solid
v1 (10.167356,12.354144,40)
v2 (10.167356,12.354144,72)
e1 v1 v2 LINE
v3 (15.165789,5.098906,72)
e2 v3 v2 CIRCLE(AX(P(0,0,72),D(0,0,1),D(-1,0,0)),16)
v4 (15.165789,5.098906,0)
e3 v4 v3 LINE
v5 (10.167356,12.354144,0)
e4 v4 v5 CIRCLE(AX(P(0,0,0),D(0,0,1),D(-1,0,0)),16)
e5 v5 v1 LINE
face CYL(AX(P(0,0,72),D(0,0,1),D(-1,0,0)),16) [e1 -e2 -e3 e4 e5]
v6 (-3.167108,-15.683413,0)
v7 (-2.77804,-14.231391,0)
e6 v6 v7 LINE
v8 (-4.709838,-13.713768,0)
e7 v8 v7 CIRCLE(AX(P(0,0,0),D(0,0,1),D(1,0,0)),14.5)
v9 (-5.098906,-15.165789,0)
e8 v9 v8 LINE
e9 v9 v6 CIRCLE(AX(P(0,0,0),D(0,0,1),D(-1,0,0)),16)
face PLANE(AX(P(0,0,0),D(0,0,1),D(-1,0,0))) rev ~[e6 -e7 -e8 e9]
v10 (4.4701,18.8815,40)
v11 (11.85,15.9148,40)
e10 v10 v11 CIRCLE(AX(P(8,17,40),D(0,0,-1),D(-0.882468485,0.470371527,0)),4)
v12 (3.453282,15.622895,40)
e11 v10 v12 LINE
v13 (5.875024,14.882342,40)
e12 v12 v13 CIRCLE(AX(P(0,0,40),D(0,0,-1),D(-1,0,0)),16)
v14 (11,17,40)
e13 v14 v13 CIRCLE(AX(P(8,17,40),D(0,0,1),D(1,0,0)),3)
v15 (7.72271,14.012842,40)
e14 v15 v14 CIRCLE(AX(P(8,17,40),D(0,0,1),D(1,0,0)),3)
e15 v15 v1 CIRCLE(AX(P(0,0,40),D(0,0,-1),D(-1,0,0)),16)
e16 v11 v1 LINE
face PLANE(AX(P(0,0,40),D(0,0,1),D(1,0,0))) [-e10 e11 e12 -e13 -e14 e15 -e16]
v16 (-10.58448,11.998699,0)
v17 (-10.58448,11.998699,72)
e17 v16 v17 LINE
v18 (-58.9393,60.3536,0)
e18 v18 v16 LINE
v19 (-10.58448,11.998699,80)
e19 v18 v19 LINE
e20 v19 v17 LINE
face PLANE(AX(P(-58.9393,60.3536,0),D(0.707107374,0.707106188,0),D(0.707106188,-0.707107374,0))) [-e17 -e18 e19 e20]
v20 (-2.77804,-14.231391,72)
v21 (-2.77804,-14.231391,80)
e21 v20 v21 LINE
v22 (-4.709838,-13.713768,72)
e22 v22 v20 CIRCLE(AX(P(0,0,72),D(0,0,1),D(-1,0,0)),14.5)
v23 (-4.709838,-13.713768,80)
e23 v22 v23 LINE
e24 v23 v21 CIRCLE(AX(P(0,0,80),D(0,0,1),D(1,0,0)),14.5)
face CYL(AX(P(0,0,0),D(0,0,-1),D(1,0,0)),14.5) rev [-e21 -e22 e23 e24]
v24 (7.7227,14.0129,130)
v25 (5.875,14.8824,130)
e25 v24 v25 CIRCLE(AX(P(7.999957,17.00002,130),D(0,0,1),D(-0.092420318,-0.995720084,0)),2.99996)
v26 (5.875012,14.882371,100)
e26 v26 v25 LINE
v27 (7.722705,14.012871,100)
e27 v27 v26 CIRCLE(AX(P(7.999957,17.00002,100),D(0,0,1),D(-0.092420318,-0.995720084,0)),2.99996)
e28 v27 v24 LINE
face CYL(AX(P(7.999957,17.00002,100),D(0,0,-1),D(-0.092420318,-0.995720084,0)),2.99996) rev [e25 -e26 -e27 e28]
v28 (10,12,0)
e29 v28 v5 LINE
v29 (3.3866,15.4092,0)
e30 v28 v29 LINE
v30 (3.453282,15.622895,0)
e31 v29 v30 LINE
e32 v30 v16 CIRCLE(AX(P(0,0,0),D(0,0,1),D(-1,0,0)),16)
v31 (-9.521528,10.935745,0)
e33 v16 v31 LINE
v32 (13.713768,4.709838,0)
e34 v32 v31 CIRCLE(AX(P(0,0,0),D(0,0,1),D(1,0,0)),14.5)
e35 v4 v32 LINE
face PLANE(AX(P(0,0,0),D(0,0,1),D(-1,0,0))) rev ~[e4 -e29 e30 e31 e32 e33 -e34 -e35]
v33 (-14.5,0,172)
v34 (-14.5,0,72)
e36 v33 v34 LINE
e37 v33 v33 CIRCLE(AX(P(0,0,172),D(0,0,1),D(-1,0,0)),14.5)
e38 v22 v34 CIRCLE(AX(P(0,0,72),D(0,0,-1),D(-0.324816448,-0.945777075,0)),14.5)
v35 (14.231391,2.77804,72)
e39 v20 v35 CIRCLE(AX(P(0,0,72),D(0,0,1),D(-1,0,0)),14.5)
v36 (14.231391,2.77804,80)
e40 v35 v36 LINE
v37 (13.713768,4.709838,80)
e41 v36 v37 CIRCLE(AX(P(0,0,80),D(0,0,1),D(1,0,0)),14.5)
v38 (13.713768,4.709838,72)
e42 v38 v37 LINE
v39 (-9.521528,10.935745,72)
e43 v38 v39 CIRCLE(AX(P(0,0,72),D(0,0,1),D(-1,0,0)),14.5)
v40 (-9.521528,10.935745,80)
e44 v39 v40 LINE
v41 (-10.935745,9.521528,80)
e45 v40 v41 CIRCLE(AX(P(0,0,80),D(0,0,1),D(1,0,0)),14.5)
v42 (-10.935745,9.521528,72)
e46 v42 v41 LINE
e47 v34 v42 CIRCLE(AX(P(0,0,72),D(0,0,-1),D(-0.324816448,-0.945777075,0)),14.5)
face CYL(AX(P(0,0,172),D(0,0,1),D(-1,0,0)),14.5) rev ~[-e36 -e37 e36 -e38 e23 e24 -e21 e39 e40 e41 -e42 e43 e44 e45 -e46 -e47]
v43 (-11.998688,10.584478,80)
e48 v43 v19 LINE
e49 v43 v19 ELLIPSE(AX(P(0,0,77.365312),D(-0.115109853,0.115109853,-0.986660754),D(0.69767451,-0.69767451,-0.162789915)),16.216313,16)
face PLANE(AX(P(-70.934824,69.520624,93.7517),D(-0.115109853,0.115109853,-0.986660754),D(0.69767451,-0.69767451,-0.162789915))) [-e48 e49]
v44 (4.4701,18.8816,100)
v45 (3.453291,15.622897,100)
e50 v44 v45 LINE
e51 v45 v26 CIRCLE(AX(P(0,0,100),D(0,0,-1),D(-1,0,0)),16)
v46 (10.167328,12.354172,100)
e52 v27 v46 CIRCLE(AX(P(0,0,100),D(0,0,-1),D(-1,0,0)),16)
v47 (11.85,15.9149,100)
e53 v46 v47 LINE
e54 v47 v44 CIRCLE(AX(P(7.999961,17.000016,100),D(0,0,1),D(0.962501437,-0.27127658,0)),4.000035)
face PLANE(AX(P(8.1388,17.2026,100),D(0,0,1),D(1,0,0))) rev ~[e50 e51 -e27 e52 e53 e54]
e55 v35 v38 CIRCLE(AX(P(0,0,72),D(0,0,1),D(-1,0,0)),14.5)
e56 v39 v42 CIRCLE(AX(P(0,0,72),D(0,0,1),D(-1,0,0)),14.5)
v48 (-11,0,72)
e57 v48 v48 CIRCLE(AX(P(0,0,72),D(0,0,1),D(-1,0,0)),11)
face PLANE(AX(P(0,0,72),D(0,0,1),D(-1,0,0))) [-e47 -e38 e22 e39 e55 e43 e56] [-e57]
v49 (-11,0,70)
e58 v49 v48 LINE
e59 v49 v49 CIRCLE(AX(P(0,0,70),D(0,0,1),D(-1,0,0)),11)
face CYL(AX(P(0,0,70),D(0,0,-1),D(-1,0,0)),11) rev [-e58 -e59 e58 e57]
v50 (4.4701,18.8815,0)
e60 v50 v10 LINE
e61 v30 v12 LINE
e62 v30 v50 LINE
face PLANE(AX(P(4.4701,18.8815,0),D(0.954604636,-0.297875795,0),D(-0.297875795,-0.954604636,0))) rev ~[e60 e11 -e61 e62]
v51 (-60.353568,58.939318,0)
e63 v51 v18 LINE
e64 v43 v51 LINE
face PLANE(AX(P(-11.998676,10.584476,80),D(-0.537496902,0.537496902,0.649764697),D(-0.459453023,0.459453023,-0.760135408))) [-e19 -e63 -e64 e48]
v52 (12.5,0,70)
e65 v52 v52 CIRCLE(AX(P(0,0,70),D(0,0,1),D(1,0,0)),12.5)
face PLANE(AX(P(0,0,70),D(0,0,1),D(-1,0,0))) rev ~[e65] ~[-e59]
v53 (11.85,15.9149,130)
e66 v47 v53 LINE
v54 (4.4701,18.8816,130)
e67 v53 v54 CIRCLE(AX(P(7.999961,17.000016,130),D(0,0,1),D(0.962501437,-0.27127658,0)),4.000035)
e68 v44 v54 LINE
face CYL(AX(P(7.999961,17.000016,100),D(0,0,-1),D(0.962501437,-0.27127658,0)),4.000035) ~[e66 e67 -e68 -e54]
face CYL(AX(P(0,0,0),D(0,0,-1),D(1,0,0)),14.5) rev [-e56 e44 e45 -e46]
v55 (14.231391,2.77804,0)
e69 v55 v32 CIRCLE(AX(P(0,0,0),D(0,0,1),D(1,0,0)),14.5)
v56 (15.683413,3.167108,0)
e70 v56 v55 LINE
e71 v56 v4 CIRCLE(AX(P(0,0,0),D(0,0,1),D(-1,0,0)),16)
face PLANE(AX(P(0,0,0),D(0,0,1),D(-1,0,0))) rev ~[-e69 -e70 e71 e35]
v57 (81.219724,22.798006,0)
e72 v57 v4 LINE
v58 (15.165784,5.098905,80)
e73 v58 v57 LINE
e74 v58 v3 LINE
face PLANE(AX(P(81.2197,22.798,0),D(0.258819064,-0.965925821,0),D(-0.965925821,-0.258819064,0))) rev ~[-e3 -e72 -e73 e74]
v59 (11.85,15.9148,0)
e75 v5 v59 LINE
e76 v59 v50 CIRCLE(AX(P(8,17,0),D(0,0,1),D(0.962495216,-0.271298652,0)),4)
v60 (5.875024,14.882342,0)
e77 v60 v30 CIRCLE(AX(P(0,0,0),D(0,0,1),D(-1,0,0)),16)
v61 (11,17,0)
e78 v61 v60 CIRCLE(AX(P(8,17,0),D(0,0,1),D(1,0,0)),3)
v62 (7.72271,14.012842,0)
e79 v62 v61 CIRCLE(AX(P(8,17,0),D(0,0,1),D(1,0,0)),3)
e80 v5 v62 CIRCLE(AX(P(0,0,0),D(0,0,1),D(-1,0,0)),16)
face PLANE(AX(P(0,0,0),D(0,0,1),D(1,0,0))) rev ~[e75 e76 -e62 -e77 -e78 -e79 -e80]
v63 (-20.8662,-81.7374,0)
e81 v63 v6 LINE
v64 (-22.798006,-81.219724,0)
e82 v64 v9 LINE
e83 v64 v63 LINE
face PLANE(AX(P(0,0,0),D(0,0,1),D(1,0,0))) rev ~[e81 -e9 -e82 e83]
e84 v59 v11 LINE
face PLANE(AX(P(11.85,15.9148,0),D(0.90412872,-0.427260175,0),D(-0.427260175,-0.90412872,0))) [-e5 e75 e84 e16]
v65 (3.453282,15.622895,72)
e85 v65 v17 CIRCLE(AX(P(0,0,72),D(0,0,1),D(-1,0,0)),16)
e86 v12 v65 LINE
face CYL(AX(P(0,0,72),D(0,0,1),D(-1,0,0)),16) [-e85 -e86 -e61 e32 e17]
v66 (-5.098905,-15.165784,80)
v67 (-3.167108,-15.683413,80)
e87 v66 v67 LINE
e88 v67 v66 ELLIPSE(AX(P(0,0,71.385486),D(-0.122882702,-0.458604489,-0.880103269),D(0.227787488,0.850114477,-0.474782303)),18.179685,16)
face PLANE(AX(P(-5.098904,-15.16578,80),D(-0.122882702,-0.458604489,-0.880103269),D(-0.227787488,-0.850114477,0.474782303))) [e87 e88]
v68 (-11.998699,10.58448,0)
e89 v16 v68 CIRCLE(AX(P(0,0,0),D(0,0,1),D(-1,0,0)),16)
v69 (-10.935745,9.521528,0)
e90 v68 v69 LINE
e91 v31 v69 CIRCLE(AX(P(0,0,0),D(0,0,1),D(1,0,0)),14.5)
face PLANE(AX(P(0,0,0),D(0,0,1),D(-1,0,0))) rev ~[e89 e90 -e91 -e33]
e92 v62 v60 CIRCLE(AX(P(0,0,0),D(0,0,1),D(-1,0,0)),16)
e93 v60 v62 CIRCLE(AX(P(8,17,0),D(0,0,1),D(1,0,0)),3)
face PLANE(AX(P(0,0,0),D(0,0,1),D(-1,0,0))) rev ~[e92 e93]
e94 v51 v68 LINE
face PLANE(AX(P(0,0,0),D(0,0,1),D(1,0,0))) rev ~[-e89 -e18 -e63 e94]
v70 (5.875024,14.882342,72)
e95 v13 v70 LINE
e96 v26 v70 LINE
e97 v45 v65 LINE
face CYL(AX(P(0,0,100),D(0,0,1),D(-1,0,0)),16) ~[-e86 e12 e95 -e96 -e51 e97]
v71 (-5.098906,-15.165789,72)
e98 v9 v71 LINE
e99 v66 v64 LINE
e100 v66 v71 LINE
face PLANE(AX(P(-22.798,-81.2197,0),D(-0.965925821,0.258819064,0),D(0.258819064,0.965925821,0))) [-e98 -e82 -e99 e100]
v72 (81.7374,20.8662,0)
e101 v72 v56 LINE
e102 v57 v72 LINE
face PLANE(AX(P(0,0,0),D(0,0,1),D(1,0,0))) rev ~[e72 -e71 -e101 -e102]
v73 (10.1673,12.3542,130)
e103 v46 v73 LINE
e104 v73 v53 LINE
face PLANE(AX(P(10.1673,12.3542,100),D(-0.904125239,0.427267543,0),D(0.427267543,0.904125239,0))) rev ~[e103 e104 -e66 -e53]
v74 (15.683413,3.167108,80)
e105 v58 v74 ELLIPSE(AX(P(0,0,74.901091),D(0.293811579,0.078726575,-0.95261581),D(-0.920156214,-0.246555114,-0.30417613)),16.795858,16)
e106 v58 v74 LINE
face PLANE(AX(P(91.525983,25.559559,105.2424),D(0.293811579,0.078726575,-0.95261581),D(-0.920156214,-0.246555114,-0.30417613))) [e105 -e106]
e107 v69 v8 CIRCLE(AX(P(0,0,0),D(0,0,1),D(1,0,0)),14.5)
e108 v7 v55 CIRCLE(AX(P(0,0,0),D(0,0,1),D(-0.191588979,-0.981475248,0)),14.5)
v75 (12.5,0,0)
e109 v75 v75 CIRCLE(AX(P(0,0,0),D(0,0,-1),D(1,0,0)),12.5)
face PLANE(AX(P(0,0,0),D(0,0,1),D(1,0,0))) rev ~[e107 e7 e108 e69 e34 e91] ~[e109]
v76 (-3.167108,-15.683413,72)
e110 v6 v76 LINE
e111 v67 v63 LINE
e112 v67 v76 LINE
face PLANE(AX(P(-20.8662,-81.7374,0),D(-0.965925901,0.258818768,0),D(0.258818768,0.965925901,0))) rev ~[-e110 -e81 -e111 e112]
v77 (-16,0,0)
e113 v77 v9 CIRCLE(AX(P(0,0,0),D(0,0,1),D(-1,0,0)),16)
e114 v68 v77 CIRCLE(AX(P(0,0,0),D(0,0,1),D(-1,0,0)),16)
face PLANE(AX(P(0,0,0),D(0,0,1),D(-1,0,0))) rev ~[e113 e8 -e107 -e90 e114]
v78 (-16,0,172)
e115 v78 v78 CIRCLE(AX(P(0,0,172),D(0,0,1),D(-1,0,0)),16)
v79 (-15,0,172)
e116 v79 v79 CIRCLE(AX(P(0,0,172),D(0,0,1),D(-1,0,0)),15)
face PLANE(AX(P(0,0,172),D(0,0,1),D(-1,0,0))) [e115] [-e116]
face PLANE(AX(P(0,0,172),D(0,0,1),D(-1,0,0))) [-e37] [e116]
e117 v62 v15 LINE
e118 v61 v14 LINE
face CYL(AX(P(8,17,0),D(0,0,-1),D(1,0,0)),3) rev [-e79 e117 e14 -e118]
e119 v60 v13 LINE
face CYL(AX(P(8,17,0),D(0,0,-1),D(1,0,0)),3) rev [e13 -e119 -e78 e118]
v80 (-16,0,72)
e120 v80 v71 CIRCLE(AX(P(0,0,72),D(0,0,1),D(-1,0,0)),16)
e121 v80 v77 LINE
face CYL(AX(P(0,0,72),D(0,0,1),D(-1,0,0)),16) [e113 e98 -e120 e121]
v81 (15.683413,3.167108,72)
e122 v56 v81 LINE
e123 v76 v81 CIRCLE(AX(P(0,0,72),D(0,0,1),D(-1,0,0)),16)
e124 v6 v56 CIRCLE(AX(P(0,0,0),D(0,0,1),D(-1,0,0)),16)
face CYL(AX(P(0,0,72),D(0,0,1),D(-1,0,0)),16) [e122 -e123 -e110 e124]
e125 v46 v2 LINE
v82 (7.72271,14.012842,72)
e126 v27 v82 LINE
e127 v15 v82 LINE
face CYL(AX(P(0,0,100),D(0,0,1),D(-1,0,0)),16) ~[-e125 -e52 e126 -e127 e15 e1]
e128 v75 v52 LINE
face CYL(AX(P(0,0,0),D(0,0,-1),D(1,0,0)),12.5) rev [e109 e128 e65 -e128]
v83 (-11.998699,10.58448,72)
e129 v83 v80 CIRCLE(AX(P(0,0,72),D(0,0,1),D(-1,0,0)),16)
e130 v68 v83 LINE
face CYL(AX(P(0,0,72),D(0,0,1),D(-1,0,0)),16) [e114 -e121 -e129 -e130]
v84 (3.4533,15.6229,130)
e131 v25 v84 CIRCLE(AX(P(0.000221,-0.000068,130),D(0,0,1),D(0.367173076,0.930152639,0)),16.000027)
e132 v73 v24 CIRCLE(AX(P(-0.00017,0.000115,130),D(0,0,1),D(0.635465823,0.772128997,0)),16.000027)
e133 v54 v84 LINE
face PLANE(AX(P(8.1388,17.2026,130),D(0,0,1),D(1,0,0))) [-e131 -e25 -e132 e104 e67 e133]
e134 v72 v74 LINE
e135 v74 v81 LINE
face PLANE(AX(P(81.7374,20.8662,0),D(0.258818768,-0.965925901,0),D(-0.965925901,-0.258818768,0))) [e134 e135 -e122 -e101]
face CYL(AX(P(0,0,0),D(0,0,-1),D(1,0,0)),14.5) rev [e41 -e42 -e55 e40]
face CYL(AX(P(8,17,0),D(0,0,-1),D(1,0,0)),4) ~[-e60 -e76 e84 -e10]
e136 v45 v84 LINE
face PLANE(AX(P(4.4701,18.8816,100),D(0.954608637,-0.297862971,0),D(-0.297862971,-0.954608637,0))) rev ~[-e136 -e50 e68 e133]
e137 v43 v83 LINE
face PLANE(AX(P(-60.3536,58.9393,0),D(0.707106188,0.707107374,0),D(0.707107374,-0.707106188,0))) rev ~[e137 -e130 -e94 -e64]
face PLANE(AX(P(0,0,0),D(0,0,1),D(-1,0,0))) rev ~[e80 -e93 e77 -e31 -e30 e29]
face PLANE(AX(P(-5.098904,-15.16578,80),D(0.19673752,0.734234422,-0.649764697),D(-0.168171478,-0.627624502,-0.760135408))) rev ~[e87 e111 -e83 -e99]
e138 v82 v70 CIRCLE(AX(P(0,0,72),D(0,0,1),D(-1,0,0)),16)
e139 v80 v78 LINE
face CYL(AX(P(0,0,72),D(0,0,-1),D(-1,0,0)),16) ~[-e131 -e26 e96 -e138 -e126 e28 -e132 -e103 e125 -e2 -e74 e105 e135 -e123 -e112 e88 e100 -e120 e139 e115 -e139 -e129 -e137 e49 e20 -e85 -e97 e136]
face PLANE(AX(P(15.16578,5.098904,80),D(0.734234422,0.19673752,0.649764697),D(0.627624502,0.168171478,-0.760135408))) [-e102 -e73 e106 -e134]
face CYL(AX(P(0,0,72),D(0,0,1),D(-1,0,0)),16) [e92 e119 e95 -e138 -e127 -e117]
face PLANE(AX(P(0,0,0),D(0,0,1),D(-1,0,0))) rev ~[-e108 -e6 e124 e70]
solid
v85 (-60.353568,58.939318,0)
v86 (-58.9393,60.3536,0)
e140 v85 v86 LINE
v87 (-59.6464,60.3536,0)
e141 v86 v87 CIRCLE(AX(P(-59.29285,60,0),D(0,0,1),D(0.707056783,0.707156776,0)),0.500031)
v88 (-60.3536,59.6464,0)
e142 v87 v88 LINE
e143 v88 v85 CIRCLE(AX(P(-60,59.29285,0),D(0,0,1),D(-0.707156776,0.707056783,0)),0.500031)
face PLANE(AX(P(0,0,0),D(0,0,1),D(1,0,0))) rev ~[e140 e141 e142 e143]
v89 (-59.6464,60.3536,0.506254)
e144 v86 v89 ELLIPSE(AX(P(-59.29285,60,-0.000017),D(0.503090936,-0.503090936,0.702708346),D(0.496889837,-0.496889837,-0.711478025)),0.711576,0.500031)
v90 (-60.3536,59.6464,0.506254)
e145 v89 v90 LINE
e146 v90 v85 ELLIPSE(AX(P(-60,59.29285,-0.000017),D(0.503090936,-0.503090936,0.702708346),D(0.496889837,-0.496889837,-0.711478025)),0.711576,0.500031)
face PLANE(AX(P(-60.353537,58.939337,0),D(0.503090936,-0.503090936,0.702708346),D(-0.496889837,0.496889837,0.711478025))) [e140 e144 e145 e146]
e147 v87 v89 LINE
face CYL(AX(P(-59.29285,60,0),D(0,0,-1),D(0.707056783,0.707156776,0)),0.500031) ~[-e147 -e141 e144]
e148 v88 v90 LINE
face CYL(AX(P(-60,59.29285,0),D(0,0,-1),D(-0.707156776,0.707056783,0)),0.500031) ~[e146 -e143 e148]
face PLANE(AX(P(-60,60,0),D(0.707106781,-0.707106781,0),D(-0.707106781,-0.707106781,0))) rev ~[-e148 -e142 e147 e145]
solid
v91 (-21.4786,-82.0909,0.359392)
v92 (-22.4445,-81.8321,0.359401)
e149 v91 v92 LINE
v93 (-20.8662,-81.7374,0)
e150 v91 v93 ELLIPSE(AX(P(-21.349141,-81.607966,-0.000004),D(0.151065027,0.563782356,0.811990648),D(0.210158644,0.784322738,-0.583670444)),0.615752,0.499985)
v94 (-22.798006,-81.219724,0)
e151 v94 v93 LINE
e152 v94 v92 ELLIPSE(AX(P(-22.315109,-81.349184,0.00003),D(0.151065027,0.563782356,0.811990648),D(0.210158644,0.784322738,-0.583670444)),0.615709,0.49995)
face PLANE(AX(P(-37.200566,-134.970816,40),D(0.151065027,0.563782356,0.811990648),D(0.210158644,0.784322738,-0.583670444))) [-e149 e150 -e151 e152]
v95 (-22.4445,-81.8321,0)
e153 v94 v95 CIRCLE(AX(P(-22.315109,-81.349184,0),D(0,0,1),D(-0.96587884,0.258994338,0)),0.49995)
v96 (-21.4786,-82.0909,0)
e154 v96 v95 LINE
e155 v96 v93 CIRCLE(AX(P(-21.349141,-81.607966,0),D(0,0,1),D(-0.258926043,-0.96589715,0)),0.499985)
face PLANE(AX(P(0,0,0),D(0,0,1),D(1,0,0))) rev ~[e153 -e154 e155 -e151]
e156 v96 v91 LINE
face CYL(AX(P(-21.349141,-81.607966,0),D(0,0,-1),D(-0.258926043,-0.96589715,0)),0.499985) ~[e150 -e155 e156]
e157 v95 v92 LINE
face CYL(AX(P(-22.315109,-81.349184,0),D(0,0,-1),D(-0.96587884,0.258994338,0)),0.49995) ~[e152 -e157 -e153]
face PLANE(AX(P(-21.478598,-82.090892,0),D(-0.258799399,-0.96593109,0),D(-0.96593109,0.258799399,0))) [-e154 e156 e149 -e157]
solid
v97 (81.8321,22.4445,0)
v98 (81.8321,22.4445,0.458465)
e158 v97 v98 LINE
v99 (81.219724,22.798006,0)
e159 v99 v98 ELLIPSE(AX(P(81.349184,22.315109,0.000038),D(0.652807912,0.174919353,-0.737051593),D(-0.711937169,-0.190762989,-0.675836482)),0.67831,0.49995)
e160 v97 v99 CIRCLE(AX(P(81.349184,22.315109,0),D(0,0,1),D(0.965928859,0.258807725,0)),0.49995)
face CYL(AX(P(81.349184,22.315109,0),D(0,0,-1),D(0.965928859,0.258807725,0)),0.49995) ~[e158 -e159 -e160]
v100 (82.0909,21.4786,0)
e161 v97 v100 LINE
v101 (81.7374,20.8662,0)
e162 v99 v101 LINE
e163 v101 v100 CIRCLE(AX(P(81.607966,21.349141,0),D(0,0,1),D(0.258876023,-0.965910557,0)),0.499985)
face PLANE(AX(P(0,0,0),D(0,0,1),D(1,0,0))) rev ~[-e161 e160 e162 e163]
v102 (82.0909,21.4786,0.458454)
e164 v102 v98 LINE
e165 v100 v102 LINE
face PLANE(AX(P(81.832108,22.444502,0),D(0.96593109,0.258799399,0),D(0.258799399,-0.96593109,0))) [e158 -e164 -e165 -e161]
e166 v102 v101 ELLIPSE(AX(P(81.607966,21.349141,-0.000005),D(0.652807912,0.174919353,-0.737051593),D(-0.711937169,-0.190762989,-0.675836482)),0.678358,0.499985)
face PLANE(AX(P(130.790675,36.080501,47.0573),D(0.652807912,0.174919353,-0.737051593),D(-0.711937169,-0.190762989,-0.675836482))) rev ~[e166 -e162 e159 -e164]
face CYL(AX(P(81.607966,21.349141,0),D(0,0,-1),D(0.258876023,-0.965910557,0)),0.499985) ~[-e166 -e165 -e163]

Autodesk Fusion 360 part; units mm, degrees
sketch "Sketch1" plane through (0, 0, 0) normal (0, 0, 1) x (1, 0, 0)
  circle A0 centre (0, 0) radius 12.5
  circle A1 centre (0, 0) radius 14.5
  line L0 (-110, 110) -> (110, 110)
  line L1 (110, 110) -> (110, -110)
  line L2 (110, -110) -> (-110, -110)
  line L3 (-110, -110) -> (-110, 110)
  line L4 (-110, 110) -> (110, -110) construction
  line L5 (110, 110) -> (-110, -110) construction
  line L6 (-60, 60) -> (-60.3536, 59.6464)
  line L7 (-60.7071, 59.2929) -> (-59.6464, 60.3536)
  line L8 (-58.9393, 60.3536) -> (0.7071, 0.7071)
  line L9 (-60.3536, 58.9393) -> (-0.7071, -0.7071)
  arc A2 (-58.9393, 60.3536) -> (-59.6464, 60.3536) centre (-59.2929, 60) ccw
  arc A3 (-60.3536, 59.6464) -> (-60.3536, 58.9393) centre (-60, 59.2929) ccw
  line L10 (-20.9956, -82.2203) -> (-22.4445, -81.8321)
  arc A4 (-21.4786, -82.0909) -> (-20.8662, -81.7374) centre (-21.3492, -81.608) ccw
  line L11 (-20.8662, -81.7374) -> (0.9659, -0.2588)
  arc A5 (-22.798, -81.2197) -> (-22.4445, -81.8321) centre (-22.3151, -81.3492) ccw
  line L12 (-22.798, -81.2197) -> (-0.9659, 0.2588)
  line L13 (81.7027, 22.9275) -> (82.0909, 21.4786)
  arc A6 (81.8321, 22.4445) -> (81.2197, 22.798) centre (81.3492, 22.3151) ccw
  line L14 (81.2197, 22.798) -> (-0.2588, 0.9659)
  arc A7 (81.7374, 20.8662) -> (82.0909, 21.4786) centre (81.608, 21.3492) ccw
  line L15 (81.7374, 20.8662) -> (0.2588, -0.9659)
  point P0 (-59.2929, 60.7071)
  dimension "d1" = 25
  dimension "d2" = 29
  dimension "d3" = 220
  dimension "d4" = 220
  dimension "d5" = 1
  dimension "d6" = 2
  dimension "d7" = 180
  dimension "d8" = 0.5
  dimension "d10" = 360
extrude "Extrude1" add sketch "Sketch1" along normal blind 70 contours A0 A1 L11 L15 | A0 A1 L14 L15 | A0 A1 L11 L12 | A0 A1 L8 L14 | A0 A1 L9 L12 | A0 A1 L8 L9 makes body 1
sketch "Sketch2" plane through (0, 0, 70) normal (0, 0, 1) x (-1, 0, 0)
  circle A0 centre (0, 0) radius 12.5
  circle A1 centre (0, 0) radius 14.5
  circle A2 centre (0, 0) radius 11
  dimension "d13" = 22
extrude "Extrude2" add sketch "Sketch2" along normal blind 2 contours A0 | A1 bodies 1
sketch "Sketch3" plane through (0, 0, 72) normal (0, 0, 1) x (-1, 0, 0)
  circle A0 centre (0, 0) radius 11
  circle A1 centre (0, 0) radius 14.5
  circle A2 centre (0, 0) radius 13.5
  circle A3 centre (0, 0) radius 15
  circle A4 centre (0, 0) radius 16
  dimension "d16" = 27
  dimension "d17" = 30
  dimension "d18" = 32
extrude "Extrude3" add sketch "Sketch3" along normal blind 100 separate body contours A4 makes body 2
extrude "Extrude4" add sketch "Sketch3" against normal blind 72 contours A3 | A4 bodies 1 2
extrude "Extrude5" add sketch "Sketch1" along normal blind 80 contours A1 L13 A6 L14 A7 L15 | A1 L10 A4 L11 A5 L12 | A1 L6 L7 L8 L9 A2 A3 bodies 1
sketch "Sketch4" plane through (-0.9659, 0.2588, 0) normal (-0.9659, 0.2588, 0) x (-0.2588, -0.9659, 0)
  line L0 (15.9687, 80) -> (15.9687, 0)
  line L1 (15.9687, 0) -> (84.3528, 0)
  line L2 (84.3528, 0) -> (84.3528, 80)
  line L3 (84.3528, 80) -> (15.9687, 80)
  line L4 (15.9687, 80) -> (84.3528, 0)
  line L5 (15.9687, 80) -> (86.3566, 117.9716)
  line L6 (86.3566, 117.9716) -> (140, 40)
  line L7 (140, 40) -> (84.3528, 0)
extrude "Extrude6" cut sketch "Sketch4" against normal blind 50 contours L2 L3 L5 L6 L7 | L2 L3 L4 bodies 1
sketch "Sketch5" plane through (-0.7071, -0.7071, 0) normal (-0.7071, -0.7071, 0) x (0.7071, -0.7071, 0)
  line L0 (-15.9687, 0) -> (-15.9687, 80)
  line L1 (-15.9687, 80) -> (-84.3528, 80)
  line L2 (-84.3528, 80) -> (-84.3528, 0)
  line L3 (-84.3528, 0) -> (-15.9687, 0)
  line L4 (-15.9687, 80) -> (-84.3528, 0)
  line L5 (-84.3528, 0) -> (-114.2811, 30.3018)
  line L6 (-114.2811, 30.3018) -> (-99.317, 93.7517)
  line L7 (-99.317, 93.7517) -> (-15.9687, 80)
extrude "Extrude7" cut sketch "Sketch5" against normal blind 5 contours L1 L2 L4 | L1 L2 L5 L6 L7 bodies 1
sketch "Sketch6" plane through (-0.2588, 0.9659, 0) normal (-0.2588, 0.9659, 0) x (-0.9659, -0.2588, 0)
  line L0 (-15.9687, 0) -> (-15.9687, 80)
  line L1 (-15.9687, 80) -> (-84.3528, 80)
  line L2 (-84.3528, 80) -> (-84.3528, 0)
  line L3 (-84.3528, 0) -> (-15.9687, 0)
  line L4 (-15.9687, 80) -> (-84.3528, 0)
  line L5 (-135.6724, 47.0573) -> (-84.3528, 0)
  line L6 (-135.6724, 47.0573) -> (-95.0226, 105.2424)
  line L7 (-95.0226, 105.2424) -> (-15.9687, 80)
extrude "Extrude8" cut sketch "Sketch6" against normal blind 5 contours L1 L2 L4 | L1 L2 L5 L6 L7 bodies 1
sketch "Sketch7" plane through (0, 0, 0) normal (0, 0, 1) x (1, 0, 0)
  circle A0 centre (8, 17) radius 3
  circle A1 centre (8, 17) radius 4
  line L0 (4.4701, 18.8815) -> (3.3866, 15.4092)
  line L1 (11.85, 15.9148) -> (10, 12)
  line L2 (3.3866, 15.4092) -> (10, 12)
  dimension "d31" = 6
  dimension "d32" = 1
extrude "Extrude9" add sketch "Sketch7" along normal blind 100 contours A1 L0 L1 L2 | A1 L0 L2 | A1 L1 L2 bodies 1
sketch "Sketch8" plane through (0, 0, 172) normal (0, 0, 1) x (-1, 0, 0)
  circle A0 centre (0, 0) radius 15
  circle A1 centre (0, 0) radius 16
  circle A2 centre (0, 0) radius 14.5
  dimension "d35" = 29
extrude "Extrude10" add sketch "Sketch8" against normal blind 100 contours A0 bodies 1
extrude "Extrude11" cut 1 faces at (10.8115, 14.4974, 100) along direction (0, 0, -1) blind 60 on bodies 1 bodies 1
ref_plane "WorkPlane1" through (8.1388, 17.2026, 100) normal (0, 0, 1) x (1, 0, 0)
sketch "Sketch9" plane through (8.1388, 17.2026, 100) normal (0, 0, 1) x (1, 0, 0)
  arc A0 (2.0285, -4.8484) -> (-0.4161, -3.1897) centre (-8.1388, -17.2026) ccw
  line L0 (2.0285, -4.8484) -> (3.7112, -1.2877)
  arc A1 (3.7112, -1.2877) -> (-3.6687, 1.679) centre (-0.1388, -0.2026) ccw
  line L1 (-3.6687, 1.679) -> (-4.6855, -1.5797)
  arc A2 (-2.2638, -2.3202) -> (-4.6855, -1.5797) centre (-8.1388, -17.2026) ccw
  arc A3 (-0.4161, -3.1897) -> (-2.2638, -2.3202) centre (-0.1388, -0.2026) ccw
extrude "Extrude12" add sketch "Sketch9" along normal blind 30 bodies 1
